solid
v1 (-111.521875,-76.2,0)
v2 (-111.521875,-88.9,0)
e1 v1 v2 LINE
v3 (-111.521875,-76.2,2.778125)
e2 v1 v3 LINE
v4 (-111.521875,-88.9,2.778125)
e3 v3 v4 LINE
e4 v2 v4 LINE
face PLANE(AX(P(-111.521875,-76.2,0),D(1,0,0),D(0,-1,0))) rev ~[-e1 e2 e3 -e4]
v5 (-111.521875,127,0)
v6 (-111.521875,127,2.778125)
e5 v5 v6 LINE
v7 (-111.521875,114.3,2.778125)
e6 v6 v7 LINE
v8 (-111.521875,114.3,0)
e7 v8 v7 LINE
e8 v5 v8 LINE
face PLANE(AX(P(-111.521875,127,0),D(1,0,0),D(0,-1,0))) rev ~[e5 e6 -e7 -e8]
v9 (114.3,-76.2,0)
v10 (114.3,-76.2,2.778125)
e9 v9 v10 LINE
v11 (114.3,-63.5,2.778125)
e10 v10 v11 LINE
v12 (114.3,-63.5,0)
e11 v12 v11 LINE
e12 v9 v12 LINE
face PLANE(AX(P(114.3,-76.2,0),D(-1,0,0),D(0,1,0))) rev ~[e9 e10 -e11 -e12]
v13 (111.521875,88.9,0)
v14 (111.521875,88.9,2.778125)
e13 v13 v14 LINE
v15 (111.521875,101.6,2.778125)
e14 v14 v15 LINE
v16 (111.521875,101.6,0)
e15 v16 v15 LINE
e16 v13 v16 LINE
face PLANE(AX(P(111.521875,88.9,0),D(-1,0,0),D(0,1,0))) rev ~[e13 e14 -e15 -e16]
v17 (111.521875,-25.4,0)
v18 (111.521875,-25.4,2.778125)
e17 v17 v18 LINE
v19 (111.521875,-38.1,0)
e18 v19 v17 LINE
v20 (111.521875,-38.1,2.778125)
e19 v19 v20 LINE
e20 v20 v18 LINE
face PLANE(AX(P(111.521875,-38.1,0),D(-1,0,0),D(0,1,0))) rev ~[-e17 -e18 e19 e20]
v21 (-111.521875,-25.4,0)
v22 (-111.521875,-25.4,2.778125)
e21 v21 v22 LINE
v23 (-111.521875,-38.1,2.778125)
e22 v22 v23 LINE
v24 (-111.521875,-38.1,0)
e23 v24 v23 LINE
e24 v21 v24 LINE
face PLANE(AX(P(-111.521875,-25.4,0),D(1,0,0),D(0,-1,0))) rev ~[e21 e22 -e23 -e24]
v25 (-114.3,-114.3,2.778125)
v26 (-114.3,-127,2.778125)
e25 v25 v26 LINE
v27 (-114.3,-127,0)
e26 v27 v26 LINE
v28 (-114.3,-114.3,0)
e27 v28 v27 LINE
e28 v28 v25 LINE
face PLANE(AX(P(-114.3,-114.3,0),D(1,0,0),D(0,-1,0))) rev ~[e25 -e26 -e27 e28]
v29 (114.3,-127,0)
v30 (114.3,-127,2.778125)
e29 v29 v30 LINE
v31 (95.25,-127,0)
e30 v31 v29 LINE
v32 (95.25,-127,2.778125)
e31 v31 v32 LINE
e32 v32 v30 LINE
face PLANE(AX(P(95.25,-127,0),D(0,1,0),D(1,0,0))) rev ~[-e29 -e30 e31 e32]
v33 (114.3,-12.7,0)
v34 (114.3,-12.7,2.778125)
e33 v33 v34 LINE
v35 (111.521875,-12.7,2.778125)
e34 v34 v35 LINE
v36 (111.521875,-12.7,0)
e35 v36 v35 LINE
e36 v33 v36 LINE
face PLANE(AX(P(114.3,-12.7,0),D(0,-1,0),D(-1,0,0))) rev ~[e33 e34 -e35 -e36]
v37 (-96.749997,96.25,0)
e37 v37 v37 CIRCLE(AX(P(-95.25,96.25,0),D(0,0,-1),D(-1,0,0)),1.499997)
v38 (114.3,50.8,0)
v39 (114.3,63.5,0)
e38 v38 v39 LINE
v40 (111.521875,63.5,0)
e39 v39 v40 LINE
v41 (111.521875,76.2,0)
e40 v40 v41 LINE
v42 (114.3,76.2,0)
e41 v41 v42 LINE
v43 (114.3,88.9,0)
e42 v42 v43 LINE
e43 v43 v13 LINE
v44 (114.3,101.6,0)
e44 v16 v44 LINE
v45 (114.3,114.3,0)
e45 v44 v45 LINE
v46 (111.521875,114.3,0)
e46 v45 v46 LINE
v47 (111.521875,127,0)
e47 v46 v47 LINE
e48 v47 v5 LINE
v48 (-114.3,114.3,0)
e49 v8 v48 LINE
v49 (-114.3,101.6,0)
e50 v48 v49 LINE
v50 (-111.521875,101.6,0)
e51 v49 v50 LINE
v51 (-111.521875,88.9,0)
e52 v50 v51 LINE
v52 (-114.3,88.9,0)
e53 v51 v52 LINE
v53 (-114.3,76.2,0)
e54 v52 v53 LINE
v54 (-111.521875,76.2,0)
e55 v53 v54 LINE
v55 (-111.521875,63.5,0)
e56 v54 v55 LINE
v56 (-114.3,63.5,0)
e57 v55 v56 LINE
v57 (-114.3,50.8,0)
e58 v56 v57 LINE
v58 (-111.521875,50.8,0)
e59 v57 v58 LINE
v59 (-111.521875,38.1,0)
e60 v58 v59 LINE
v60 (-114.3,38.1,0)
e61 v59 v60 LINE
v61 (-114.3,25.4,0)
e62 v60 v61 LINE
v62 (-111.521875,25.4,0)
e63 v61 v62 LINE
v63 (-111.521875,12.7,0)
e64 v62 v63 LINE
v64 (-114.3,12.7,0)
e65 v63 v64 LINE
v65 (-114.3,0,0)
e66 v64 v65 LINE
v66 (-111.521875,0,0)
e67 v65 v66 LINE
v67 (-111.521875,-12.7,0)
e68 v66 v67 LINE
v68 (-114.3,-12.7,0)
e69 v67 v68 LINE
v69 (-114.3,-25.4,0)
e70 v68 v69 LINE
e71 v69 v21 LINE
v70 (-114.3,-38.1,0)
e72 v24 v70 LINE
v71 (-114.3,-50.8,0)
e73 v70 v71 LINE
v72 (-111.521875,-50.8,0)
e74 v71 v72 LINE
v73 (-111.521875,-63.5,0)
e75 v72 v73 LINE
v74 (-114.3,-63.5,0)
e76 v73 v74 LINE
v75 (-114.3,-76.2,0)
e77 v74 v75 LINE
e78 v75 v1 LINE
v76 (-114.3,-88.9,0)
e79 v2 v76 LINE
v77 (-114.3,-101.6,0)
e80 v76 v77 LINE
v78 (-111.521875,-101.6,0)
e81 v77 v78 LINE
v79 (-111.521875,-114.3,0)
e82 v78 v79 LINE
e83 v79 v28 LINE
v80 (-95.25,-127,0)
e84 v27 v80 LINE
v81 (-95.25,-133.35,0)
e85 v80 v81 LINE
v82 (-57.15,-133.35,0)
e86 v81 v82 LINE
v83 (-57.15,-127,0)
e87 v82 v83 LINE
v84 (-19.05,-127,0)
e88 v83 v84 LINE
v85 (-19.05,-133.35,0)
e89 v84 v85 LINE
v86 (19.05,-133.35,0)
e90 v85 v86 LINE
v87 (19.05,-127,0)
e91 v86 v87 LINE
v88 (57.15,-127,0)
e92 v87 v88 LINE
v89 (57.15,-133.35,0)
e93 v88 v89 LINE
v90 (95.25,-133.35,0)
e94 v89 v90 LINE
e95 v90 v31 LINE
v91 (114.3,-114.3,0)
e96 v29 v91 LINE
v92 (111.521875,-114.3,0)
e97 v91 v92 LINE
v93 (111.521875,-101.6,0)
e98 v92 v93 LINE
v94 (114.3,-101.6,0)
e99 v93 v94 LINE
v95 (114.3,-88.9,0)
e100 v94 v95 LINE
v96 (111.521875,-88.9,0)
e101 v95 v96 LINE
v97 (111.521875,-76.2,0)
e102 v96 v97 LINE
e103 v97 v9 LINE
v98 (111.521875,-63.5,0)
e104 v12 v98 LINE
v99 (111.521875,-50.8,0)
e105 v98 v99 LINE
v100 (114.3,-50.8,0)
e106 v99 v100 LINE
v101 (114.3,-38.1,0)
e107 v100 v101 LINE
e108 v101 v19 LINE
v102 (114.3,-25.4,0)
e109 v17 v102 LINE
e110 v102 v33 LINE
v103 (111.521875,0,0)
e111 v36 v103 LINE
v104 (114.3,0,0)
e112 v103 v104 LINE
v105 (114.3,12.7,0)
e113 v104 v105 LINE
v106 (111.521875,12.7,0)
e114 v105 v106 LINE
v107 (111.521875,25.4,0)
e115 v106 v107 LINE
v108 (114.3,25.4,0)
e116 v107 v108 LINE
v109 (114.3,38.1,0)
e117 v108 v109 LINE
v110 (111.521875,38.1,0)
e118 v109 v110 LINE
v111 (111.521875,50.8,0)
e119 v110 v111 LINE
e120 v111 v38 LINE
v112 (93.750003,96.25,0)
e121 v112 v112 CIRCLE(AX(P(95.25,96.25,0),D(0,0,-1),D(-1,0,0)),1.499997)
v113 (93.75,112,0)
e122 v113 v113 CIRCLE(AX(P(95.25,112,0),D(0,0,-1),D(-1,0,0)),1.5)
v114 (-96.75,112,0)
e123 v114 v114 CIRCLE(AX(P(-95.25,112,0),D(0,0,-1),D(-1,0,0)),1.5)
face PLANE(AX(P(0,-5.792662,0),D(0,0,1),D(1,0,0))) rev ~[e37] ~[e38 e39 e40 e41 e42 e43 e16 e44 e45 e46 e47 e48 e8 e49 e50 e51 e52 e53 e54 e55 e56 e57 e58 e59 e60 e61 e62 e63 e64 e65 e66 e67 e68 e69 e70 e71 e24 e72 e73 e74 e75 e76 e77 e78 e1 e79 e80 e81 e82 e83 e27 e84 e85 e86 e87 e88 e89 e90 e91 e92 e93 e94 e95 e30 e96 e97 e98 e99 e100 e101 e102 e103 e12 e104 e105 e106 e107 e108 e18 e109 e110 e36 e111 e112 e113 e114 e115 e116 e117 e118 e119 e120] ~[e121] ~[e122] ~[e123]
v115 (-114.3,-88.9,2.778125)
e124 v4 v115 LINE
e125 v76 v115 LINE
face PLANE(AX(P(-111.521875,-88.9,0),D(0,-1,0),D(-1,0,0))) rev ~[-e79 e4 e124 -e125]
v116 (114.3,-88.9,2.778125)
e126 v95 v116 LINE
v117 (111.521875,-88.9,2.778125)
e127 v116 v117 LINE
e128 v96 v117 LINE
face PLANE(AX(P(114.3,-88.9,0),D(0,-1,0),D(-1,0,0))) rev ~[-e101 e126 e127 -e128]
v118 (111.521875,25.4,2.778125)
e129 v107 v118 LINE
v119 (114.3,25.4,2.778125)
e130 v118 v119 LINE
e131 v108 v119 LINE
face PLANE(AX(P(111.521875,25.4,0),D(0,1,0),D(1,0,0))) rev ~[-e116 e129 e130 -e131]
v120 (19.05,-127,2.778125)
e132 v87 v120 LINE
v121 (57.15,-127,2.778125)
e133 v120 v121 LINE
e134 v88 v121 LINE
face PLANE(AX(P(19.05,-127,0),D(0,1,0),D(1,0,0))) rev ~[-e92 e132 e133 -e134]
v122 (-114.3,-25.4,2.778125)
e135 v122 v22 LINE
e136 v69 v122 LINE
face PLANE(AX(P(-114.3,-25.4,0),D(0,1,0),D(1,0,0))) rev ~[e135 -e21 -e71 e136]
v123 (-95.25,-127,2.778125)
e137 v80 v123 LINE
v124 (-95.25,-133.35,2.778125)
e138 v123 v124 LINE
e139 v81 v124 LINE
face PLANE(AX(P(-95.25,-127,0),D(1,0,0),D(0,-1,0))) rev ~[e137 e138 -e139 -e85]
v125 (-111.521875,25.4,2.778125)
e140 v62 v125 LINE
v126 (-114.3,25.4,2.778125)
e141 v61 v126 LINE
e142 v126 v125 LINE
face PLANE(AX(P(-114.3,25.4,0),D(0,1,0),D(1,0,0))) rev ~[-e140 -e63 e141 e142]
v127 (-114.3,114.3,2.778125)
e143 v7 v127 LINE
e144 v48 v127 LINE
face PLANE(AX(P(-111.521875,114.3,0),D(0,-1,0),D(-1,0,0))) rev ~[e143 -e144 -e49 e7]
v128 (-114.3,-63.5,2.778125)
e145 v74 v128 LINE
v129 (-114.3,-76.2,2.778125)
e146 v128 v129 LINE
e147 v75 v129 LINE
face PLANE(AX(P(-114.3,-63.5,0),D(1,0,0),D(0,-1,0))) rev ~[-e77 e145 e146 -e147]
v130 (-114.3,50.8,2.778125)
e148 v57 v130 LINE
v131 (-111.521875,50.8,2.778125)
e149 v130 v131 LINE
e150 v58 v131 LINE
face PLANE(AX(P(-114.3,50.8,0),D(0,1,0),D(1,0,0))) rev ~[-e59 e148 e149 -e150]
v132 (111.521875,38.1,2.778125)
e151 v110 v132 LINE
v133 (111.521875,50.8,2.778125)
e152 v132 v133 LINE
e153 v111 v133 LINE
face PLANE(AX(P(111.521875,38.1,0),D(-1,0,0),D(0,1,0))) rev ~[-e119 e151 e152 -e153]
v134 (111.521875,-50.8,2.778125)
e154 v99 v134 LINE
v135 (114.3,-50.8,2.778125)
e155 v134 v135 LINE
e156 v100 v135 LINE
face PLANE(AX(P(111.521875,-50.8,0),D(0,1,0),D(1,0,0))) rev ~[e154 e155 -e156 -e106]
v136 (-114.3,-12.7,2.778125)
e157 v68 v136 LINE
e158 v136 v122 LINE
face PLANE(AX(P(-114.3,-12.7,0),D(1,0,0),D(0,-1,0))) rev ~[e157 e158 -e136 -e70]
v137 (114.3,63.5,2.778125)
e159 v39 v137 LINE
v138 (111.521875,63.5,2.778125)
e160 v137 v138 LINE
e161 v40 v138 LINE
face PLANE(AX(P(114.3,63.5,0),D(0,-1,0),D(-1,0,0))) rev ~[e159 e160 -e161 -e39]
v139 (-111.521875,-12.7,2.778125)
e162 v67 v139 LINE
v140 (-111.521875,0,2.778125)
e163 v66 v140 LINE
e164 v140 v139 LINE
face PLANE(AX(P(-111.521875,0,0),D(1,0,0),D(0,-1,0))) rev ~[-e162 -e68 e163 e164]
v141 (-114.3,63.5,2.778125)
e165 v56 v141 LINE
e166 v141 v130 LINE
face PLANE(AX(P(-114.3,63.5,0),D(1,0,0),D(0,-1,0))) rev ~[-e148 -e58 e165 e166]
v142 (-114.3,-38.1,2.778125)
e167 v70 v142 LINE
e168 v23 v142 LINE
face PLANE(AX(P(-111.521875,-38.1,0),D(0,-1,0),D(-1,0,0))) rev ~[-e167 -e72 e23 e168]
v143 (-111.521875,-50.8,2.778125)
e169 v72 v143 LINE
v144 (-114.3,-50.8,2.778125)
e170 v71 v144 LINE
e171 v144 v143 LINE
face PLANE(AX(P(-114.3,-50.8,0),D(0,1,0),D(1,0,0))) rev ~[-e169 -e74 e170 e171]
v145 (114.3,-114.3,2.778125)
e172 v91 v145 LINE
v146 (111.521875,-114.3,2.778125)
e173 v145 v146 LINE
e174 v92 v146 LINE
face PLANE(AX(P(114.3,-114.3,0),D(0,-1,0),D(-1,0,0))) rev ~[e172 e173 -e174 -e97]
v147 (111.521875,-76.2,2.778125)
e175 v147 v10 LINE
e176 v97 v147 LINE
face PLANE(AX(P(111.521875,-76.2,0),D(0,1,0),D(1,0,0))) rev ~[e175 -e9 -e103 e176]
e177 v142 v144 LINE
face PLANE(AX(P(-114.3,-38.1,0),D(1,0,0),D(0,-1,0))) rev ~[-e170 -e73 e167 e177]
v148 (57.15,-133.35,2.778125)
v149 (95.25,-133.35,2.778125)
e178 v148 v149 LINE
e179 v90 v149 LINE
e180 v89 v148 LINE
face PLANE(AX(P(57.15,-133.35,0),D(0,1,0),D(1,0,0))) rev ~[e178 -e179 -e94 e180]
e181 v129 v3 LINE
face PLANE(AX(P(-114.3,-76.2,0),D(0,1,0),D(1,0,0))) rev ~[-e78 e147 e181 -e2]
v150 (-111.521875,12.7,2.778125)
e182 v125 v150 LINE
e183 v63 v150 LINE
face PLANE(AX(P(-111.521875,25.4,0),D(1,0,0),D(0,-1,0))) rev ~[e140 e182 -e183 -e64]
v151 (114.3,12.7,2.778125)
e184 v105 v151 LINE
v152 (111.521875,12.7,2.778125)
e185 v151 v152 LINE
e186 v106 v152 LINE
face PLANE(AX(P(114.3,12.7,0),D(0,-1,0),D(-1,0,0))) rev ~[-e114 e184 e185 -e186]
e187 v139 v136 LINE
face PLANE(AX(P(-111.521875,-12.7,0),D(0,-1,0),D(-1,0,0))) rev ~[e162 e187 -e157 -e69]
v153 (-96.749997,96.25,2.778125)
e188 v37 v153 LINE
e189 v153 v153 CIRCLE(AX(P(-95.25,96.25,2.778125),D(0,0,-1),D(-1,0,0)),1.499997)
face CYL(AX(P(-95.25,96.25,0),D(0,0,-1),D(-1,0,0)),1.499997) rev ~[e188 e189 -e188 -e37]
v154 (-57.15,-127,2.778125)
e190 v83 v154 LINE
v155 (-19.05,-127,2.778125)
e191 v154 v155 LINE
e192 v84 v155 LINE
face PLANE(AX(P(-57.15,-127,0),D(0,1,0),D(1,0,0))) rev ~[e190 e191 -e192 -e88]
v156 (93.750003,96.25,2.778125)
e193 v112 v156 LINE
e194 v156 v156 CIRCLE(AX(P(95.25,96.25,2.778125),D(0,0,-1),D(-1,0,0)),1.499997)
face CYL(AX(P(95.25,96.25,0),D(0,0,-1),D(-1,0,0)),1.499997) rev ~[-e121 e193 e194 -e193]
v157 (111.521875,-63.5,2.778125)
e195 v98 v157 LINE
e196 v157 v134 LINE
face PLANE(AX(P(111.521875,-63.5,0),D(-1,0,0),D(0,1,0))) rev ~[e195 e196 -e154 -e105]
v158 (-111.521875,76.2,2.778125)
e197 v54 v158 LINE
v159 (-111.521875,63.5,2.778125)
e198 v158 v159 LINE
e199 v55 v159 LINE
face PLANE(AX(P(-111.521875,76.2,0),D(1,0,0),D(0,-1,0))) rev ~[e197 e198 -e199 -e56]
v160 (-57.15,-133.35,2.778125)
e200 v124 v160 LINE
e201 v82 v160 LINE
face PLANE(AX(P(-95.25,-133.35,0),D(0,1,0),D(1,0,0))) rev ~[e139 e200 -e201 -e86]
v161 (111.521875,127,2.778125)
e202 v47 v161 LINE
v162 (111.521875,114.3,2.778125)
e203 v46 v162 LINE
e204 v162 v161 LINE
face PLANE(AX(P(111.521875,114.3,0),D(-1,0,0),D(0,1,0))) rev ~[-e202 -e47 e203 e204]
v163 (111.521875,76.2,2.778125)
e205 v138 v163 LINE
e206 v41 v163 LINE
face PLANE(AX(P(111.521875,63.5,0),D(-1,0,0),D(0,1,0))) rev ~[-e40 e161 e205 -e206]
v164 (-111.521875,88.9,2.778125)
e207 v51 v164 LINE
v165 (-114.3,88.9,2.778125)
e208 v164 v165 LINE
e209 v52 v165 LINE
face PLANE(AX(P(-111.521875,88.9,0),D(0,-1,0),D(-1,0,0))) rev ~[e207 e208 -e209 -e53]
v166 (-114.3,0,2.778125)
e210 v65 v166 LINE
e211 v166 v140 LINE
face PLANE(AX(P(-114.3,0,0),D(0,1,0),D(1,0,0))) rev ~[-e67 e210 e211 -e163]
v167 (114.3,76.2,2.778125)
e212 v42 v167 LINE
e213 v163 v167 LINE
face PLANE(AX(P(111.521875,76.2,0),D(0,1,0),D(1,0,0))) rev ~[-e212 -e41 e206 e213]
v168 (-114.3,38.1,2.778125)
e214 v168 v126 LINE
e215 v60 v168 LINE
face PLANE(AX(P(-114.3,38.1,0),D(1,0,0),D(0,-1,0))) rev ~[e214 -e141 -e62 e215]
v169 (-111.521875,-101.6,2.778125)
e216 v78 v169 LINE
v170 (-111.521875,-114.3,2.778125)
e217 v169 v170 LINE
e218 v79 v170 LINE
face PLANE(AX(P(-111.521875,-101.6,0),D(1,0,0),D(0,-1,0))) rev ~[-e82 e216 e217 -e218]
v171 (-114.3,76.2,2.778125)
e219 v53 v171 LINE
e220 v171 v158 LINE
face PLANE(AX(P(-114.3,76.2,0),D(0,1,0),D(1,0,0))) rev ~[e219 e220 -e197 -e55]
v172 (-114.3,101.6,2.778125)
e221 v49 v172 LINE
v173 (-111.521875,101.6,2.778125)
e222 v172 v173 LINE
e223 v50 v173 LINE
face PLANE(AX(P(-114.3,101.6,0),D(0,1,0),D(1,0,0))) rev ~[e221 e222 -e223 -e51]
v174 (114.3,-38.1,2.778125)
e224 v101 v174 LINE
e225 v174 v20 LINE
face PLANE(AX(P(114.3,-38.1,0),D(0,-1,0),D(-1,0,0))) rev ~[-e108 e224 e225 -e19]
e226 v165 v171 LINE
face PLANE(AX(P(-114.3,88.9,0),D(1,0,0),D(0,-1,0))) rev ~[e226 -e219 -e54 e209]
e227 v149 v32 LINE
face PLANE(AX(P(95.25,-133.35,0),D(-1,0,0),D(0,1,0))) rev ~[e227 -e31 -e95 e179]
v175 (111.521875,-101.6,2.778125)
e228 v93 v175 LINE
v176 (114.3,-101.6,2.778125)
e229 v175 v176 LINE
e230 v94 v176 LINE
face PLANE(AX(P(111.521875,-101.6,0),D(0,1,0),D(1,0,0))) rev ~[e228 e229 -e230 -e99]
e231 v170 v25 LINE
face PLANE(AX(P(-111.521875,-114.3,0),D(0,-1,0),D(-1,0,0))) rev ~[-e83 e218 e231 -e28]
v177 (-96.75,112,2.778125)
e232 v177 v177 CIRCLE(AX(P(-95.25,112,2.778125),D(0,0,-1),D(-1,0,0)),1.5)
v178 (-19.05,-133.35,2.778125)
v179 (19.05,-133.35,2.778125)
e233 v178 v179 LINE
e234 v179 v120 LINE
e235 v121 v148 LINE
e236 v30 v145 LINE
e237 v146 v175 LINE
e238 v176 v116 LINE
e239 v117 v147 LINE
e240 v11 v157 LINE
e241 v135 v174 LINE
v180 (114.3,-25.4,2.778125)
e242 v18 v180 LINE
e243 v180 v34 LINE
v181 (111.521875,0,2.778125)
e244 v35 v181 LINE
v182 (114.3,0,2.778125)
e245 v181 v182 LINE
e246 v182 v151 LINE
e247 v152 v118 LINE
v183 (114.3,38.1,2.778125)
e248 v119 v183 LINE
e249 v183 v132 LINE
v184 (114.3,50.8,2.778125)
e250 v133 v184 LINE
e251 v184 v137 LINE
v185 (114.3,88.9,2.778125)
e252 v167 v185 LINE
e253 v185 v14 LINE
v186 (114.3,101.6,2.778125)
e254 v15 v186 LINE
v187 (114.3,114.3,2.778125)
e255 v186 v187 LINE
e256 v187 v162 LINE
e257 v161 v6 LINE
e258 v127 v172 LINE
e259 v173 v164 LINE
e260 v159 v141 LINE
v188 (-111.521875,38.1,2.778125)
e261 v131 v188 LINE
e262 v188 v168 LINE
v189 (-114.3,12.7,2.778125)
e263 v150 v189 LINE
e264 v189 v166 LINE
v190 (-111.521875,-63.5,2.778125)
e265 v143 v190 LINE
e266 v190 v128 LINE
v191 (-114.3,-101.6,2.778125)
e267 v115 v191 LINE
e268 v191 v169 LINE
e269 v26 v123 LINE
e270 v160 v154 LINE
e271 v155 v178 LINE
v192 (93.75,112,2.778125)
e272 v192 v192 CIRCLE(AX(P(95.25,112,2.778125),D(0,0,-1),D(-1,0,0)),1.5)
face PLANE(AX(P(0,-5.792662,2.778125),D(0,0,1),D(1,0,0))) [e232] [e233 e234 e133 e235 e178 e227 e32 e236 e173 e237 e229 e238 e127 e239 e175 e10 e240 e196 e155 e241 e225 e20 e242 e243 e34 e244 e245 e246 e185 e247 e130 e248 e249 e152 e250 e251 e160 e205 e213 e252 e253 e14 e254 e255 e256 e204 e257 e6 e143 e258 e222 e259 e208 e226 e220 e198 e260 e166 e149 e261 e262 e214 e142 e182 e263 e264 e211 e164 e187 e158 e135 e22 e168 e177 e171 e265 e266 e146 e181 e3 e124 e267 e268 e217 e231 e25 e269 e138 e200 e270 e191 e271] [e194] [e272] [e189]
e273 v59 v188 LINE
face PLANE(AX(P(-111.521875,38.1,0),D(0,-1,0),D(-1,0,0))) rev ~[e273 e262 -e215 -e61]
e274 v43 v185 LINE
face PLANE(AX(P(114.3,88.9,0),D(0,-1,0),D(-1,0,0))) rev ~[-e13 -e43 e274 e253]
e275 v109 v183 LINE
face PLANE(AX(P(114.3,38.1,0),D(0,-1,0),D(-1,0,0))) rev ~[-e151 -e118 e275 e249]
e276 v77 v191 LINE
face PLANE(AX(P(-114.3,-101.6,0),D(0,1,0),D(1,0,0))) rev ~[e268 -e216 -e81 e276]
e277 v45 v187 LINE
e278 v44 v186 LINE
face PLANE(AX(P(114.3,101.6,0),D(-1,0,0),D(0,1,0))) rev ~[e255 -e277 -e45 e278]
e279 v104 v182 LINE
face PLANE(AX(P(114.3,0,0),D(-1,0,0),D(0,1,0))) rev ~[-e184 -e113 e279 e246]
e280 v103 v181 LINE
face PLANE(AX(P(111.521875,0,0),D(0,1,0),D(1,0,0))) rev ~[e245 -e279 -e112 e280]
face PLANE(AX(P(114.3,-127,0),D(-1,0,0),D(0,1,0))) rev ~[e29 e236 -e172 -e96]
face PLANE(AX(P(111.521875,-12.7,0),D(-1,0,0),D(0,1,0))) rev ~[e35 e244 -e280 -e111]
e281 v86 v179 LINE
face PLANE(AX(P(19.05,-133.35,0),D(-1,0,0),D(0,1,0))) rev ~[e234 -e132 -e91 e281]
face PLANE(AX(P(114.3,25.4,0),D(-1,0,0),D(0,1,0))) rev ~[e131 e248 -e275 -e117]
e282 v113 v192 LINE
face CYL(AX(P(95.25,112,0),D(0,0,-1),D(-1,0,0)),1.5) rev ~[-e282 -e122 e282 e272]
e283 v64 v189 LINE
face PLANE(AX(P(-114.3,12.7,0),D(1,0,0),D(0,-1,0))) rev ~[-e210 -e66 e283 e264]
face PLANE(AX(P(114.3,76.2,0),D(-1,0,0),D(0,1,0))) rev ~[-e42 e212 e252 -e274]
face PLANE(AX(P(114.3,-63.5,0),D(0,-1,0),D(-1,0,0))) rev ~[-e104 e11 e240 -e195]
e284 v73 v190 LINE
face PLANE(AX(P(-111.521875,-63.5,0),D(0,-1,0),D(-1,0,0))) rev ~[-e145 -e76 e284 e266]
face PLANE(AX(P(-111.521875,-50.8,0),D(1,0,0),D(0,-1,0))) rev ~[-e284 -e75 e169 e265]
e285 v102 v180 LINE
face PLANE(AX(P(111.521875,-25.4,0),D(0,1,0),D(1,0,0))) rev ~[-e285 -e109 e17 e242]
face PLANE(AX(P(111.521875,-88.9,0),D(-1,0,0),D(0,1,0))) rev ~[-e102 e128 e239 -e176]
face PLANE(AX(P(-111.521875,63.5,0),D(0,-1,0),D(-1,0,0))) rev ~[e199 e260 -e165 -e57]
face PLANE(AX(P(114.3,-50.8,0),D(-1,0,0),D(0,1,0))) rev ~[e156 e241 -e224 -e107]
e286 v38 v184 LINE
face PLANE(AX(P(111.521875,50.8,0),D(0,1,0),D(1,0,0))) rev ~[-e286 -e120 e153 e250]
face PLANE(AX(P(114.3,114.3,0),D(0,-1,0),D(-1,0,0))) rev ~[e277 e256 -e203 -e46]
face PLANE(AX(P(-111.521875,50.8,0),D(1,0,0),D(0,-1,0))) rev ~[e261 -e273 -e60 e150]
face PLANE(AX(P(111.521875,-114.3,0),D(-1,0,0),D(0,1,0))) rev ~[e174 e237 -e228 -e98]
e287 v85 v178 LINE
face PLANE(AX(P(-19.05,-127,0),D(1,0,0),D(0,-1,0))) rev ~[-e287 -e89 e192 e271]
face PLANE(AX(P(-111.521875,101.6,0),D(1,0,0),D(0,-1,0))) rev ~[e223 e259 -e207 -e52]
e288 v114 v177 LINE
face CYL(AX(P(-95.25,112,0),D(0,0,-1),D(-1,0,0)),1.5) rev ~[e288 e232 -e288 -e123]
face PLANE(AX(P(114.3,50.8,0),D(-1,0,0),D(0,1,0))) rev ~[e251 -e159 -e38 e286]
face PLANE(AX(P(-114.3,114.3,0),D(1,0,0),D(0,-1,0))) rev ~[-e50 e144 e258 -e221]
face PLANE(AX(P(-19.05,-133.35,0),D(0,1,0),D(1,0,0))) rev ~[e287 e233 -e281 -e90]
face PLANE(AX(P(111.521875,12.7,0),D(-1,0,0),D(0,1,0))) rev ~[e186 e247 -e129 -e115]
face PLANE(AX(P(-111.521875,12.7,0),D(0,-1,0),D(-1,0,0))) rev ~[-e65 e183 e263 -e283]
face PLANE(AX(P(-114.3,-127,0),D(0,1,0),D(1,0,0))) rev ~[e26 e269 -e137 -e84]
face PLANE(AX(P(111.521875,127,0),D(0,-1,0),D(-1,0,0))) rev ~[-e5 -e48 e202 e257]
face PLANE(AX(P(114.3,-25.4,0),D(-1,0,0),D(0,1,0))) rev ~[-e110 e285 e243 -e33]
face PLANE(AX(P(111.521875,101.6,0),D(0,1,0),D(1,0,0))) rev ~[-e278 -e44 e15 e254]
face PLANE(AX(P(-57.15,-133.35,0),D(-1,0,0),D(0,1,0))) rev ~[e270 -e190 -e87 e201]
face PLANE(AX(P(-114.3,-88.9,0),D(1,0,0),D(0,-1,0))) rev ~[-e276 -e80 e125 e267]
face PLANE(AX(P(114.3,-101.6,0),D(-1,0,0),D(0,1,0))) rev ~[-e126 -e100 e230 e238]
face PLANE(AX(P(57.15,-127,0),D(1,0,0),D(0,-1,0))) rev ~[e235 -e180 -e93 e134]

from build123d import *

# Parameters (mm, degrees)
BOSS_EXTRUDE1_DEPTH = 2.778125
SKETCH3_R           = 1.5
SKETCH3_R_2         = 1.499997
CUT_EXTRUDE2_DEPTH  = 2.778125


with BuildPart() as part:
    # Sketch1 → Boss-Extrude1 (new body)
    with BuildSketch(Plane.XY):
        Polygon((-111.521875, 114.3), (-114.3, 114.3), (-114.3, 101.6), (-111.521875, 101.6), (-111.521875, 88.9), (-114.3, 88.9), (-114.3, 76.2), (-111.521875, 76.2), (-111.521875, 63.5), (-114.3, 63.5), (-114.3, 50.8), (-111.521875, 50.8), (-111.521875, 38.1), (-114.3, 38.1), (-114.3, 25.4), (-111.521875, 25.4), (-111.521875, 12.7), (-114.3, 12.7), (-114.3, 0), (-111.521875, 0), (-111.521875, -12.7), (-114.3, -12.7), (-114.3, -25.4), (-111.521875, -25.4), (-111.521875, -38.1), (-114.3, -38.1), (-114.3, -50.8), (-111.521875, -50.8), (-111.521875, -63.5), (-114.3, -63.5), (-114.3, -76.2), (-111.521875, -76.2), (-111.521875, -88.9), (-114.3, -88.9), (-114.3, -101.6), (-111.521875, -101.6), (-111.521875, -114.3), (-114.3, -114.3), (-114.3, -127), (-95.25, -127), (-95.25, -133.35), (-57.15, -133.35), (-57.15, -127), (-19.05, -127), (-19.05, -133.35), (19.05, -133.35), (19.05, -127), (57.15, -127), (57.15, -133.35), (95.25, -133.35), (95.25, -127), (114.3, -127), (114.3, -114.3), (111.521875, -114.3), (111.521875, -101.6), (114.3, -101.6), (114.3, -88.9), (111.521875, -88.9), (111.521875, -76.2), (114.3, -76.2), (114.3, -63.5), (111.521875, -63.5), (111.521875, -50.8), (114.3, -50.8), (114.3, -38.1), (111.521875, -38.1), (111.521875, -25.4), (114.3, -25.4), (114.3, -12.7), (111.521875, -12.7), (111.521875, 0), (114.3, 0), (114.3, 12.7), (111.521875, 12.7), (111.521875, 25.4), (114.3, 25.4), (114.3, 38.1), (111.521875, 38.1), (111.521875, 50.8), (114.3, 50.8), (114.3, 63.5), (111.521875, 63.5), (111.521875, 76.2), (114.3, 76.2), (114.3, 88.9), (111.521875, 88.9), (111.521875, 101.6), (114.3, 101.6), (114.3, 114.3), (111.521875, 114.3), (111.521875, 127), (-111.521875, 127), align=None)
    extrude(amount=BOSS_EXTRUDE1_DEPTH)

    # Sketch3 → Cut-Extrude2 (cut)
    with BuildSketch(Plane(origin=(0, 0, 0), x_dir=(-1, 0, 0), z_dir=(0, 0, -1))):
        with Locations((-95.25, 112)):
            Circle(SKETCH3_R)
        with Locations((-95.25, 96.25)):
            Circle(SKETCH3_R_2)
        with Locations((95.25, 96.25)):
            Circle(SKETCH3_R_2)
        with Locations((95.25, 112)):
            Circle(SKETCH3_R)
    extrude(amount=-CUT_EXTRUDE2_DEPTH, mode=Mode.SUBTRACT)


solid = part.part
